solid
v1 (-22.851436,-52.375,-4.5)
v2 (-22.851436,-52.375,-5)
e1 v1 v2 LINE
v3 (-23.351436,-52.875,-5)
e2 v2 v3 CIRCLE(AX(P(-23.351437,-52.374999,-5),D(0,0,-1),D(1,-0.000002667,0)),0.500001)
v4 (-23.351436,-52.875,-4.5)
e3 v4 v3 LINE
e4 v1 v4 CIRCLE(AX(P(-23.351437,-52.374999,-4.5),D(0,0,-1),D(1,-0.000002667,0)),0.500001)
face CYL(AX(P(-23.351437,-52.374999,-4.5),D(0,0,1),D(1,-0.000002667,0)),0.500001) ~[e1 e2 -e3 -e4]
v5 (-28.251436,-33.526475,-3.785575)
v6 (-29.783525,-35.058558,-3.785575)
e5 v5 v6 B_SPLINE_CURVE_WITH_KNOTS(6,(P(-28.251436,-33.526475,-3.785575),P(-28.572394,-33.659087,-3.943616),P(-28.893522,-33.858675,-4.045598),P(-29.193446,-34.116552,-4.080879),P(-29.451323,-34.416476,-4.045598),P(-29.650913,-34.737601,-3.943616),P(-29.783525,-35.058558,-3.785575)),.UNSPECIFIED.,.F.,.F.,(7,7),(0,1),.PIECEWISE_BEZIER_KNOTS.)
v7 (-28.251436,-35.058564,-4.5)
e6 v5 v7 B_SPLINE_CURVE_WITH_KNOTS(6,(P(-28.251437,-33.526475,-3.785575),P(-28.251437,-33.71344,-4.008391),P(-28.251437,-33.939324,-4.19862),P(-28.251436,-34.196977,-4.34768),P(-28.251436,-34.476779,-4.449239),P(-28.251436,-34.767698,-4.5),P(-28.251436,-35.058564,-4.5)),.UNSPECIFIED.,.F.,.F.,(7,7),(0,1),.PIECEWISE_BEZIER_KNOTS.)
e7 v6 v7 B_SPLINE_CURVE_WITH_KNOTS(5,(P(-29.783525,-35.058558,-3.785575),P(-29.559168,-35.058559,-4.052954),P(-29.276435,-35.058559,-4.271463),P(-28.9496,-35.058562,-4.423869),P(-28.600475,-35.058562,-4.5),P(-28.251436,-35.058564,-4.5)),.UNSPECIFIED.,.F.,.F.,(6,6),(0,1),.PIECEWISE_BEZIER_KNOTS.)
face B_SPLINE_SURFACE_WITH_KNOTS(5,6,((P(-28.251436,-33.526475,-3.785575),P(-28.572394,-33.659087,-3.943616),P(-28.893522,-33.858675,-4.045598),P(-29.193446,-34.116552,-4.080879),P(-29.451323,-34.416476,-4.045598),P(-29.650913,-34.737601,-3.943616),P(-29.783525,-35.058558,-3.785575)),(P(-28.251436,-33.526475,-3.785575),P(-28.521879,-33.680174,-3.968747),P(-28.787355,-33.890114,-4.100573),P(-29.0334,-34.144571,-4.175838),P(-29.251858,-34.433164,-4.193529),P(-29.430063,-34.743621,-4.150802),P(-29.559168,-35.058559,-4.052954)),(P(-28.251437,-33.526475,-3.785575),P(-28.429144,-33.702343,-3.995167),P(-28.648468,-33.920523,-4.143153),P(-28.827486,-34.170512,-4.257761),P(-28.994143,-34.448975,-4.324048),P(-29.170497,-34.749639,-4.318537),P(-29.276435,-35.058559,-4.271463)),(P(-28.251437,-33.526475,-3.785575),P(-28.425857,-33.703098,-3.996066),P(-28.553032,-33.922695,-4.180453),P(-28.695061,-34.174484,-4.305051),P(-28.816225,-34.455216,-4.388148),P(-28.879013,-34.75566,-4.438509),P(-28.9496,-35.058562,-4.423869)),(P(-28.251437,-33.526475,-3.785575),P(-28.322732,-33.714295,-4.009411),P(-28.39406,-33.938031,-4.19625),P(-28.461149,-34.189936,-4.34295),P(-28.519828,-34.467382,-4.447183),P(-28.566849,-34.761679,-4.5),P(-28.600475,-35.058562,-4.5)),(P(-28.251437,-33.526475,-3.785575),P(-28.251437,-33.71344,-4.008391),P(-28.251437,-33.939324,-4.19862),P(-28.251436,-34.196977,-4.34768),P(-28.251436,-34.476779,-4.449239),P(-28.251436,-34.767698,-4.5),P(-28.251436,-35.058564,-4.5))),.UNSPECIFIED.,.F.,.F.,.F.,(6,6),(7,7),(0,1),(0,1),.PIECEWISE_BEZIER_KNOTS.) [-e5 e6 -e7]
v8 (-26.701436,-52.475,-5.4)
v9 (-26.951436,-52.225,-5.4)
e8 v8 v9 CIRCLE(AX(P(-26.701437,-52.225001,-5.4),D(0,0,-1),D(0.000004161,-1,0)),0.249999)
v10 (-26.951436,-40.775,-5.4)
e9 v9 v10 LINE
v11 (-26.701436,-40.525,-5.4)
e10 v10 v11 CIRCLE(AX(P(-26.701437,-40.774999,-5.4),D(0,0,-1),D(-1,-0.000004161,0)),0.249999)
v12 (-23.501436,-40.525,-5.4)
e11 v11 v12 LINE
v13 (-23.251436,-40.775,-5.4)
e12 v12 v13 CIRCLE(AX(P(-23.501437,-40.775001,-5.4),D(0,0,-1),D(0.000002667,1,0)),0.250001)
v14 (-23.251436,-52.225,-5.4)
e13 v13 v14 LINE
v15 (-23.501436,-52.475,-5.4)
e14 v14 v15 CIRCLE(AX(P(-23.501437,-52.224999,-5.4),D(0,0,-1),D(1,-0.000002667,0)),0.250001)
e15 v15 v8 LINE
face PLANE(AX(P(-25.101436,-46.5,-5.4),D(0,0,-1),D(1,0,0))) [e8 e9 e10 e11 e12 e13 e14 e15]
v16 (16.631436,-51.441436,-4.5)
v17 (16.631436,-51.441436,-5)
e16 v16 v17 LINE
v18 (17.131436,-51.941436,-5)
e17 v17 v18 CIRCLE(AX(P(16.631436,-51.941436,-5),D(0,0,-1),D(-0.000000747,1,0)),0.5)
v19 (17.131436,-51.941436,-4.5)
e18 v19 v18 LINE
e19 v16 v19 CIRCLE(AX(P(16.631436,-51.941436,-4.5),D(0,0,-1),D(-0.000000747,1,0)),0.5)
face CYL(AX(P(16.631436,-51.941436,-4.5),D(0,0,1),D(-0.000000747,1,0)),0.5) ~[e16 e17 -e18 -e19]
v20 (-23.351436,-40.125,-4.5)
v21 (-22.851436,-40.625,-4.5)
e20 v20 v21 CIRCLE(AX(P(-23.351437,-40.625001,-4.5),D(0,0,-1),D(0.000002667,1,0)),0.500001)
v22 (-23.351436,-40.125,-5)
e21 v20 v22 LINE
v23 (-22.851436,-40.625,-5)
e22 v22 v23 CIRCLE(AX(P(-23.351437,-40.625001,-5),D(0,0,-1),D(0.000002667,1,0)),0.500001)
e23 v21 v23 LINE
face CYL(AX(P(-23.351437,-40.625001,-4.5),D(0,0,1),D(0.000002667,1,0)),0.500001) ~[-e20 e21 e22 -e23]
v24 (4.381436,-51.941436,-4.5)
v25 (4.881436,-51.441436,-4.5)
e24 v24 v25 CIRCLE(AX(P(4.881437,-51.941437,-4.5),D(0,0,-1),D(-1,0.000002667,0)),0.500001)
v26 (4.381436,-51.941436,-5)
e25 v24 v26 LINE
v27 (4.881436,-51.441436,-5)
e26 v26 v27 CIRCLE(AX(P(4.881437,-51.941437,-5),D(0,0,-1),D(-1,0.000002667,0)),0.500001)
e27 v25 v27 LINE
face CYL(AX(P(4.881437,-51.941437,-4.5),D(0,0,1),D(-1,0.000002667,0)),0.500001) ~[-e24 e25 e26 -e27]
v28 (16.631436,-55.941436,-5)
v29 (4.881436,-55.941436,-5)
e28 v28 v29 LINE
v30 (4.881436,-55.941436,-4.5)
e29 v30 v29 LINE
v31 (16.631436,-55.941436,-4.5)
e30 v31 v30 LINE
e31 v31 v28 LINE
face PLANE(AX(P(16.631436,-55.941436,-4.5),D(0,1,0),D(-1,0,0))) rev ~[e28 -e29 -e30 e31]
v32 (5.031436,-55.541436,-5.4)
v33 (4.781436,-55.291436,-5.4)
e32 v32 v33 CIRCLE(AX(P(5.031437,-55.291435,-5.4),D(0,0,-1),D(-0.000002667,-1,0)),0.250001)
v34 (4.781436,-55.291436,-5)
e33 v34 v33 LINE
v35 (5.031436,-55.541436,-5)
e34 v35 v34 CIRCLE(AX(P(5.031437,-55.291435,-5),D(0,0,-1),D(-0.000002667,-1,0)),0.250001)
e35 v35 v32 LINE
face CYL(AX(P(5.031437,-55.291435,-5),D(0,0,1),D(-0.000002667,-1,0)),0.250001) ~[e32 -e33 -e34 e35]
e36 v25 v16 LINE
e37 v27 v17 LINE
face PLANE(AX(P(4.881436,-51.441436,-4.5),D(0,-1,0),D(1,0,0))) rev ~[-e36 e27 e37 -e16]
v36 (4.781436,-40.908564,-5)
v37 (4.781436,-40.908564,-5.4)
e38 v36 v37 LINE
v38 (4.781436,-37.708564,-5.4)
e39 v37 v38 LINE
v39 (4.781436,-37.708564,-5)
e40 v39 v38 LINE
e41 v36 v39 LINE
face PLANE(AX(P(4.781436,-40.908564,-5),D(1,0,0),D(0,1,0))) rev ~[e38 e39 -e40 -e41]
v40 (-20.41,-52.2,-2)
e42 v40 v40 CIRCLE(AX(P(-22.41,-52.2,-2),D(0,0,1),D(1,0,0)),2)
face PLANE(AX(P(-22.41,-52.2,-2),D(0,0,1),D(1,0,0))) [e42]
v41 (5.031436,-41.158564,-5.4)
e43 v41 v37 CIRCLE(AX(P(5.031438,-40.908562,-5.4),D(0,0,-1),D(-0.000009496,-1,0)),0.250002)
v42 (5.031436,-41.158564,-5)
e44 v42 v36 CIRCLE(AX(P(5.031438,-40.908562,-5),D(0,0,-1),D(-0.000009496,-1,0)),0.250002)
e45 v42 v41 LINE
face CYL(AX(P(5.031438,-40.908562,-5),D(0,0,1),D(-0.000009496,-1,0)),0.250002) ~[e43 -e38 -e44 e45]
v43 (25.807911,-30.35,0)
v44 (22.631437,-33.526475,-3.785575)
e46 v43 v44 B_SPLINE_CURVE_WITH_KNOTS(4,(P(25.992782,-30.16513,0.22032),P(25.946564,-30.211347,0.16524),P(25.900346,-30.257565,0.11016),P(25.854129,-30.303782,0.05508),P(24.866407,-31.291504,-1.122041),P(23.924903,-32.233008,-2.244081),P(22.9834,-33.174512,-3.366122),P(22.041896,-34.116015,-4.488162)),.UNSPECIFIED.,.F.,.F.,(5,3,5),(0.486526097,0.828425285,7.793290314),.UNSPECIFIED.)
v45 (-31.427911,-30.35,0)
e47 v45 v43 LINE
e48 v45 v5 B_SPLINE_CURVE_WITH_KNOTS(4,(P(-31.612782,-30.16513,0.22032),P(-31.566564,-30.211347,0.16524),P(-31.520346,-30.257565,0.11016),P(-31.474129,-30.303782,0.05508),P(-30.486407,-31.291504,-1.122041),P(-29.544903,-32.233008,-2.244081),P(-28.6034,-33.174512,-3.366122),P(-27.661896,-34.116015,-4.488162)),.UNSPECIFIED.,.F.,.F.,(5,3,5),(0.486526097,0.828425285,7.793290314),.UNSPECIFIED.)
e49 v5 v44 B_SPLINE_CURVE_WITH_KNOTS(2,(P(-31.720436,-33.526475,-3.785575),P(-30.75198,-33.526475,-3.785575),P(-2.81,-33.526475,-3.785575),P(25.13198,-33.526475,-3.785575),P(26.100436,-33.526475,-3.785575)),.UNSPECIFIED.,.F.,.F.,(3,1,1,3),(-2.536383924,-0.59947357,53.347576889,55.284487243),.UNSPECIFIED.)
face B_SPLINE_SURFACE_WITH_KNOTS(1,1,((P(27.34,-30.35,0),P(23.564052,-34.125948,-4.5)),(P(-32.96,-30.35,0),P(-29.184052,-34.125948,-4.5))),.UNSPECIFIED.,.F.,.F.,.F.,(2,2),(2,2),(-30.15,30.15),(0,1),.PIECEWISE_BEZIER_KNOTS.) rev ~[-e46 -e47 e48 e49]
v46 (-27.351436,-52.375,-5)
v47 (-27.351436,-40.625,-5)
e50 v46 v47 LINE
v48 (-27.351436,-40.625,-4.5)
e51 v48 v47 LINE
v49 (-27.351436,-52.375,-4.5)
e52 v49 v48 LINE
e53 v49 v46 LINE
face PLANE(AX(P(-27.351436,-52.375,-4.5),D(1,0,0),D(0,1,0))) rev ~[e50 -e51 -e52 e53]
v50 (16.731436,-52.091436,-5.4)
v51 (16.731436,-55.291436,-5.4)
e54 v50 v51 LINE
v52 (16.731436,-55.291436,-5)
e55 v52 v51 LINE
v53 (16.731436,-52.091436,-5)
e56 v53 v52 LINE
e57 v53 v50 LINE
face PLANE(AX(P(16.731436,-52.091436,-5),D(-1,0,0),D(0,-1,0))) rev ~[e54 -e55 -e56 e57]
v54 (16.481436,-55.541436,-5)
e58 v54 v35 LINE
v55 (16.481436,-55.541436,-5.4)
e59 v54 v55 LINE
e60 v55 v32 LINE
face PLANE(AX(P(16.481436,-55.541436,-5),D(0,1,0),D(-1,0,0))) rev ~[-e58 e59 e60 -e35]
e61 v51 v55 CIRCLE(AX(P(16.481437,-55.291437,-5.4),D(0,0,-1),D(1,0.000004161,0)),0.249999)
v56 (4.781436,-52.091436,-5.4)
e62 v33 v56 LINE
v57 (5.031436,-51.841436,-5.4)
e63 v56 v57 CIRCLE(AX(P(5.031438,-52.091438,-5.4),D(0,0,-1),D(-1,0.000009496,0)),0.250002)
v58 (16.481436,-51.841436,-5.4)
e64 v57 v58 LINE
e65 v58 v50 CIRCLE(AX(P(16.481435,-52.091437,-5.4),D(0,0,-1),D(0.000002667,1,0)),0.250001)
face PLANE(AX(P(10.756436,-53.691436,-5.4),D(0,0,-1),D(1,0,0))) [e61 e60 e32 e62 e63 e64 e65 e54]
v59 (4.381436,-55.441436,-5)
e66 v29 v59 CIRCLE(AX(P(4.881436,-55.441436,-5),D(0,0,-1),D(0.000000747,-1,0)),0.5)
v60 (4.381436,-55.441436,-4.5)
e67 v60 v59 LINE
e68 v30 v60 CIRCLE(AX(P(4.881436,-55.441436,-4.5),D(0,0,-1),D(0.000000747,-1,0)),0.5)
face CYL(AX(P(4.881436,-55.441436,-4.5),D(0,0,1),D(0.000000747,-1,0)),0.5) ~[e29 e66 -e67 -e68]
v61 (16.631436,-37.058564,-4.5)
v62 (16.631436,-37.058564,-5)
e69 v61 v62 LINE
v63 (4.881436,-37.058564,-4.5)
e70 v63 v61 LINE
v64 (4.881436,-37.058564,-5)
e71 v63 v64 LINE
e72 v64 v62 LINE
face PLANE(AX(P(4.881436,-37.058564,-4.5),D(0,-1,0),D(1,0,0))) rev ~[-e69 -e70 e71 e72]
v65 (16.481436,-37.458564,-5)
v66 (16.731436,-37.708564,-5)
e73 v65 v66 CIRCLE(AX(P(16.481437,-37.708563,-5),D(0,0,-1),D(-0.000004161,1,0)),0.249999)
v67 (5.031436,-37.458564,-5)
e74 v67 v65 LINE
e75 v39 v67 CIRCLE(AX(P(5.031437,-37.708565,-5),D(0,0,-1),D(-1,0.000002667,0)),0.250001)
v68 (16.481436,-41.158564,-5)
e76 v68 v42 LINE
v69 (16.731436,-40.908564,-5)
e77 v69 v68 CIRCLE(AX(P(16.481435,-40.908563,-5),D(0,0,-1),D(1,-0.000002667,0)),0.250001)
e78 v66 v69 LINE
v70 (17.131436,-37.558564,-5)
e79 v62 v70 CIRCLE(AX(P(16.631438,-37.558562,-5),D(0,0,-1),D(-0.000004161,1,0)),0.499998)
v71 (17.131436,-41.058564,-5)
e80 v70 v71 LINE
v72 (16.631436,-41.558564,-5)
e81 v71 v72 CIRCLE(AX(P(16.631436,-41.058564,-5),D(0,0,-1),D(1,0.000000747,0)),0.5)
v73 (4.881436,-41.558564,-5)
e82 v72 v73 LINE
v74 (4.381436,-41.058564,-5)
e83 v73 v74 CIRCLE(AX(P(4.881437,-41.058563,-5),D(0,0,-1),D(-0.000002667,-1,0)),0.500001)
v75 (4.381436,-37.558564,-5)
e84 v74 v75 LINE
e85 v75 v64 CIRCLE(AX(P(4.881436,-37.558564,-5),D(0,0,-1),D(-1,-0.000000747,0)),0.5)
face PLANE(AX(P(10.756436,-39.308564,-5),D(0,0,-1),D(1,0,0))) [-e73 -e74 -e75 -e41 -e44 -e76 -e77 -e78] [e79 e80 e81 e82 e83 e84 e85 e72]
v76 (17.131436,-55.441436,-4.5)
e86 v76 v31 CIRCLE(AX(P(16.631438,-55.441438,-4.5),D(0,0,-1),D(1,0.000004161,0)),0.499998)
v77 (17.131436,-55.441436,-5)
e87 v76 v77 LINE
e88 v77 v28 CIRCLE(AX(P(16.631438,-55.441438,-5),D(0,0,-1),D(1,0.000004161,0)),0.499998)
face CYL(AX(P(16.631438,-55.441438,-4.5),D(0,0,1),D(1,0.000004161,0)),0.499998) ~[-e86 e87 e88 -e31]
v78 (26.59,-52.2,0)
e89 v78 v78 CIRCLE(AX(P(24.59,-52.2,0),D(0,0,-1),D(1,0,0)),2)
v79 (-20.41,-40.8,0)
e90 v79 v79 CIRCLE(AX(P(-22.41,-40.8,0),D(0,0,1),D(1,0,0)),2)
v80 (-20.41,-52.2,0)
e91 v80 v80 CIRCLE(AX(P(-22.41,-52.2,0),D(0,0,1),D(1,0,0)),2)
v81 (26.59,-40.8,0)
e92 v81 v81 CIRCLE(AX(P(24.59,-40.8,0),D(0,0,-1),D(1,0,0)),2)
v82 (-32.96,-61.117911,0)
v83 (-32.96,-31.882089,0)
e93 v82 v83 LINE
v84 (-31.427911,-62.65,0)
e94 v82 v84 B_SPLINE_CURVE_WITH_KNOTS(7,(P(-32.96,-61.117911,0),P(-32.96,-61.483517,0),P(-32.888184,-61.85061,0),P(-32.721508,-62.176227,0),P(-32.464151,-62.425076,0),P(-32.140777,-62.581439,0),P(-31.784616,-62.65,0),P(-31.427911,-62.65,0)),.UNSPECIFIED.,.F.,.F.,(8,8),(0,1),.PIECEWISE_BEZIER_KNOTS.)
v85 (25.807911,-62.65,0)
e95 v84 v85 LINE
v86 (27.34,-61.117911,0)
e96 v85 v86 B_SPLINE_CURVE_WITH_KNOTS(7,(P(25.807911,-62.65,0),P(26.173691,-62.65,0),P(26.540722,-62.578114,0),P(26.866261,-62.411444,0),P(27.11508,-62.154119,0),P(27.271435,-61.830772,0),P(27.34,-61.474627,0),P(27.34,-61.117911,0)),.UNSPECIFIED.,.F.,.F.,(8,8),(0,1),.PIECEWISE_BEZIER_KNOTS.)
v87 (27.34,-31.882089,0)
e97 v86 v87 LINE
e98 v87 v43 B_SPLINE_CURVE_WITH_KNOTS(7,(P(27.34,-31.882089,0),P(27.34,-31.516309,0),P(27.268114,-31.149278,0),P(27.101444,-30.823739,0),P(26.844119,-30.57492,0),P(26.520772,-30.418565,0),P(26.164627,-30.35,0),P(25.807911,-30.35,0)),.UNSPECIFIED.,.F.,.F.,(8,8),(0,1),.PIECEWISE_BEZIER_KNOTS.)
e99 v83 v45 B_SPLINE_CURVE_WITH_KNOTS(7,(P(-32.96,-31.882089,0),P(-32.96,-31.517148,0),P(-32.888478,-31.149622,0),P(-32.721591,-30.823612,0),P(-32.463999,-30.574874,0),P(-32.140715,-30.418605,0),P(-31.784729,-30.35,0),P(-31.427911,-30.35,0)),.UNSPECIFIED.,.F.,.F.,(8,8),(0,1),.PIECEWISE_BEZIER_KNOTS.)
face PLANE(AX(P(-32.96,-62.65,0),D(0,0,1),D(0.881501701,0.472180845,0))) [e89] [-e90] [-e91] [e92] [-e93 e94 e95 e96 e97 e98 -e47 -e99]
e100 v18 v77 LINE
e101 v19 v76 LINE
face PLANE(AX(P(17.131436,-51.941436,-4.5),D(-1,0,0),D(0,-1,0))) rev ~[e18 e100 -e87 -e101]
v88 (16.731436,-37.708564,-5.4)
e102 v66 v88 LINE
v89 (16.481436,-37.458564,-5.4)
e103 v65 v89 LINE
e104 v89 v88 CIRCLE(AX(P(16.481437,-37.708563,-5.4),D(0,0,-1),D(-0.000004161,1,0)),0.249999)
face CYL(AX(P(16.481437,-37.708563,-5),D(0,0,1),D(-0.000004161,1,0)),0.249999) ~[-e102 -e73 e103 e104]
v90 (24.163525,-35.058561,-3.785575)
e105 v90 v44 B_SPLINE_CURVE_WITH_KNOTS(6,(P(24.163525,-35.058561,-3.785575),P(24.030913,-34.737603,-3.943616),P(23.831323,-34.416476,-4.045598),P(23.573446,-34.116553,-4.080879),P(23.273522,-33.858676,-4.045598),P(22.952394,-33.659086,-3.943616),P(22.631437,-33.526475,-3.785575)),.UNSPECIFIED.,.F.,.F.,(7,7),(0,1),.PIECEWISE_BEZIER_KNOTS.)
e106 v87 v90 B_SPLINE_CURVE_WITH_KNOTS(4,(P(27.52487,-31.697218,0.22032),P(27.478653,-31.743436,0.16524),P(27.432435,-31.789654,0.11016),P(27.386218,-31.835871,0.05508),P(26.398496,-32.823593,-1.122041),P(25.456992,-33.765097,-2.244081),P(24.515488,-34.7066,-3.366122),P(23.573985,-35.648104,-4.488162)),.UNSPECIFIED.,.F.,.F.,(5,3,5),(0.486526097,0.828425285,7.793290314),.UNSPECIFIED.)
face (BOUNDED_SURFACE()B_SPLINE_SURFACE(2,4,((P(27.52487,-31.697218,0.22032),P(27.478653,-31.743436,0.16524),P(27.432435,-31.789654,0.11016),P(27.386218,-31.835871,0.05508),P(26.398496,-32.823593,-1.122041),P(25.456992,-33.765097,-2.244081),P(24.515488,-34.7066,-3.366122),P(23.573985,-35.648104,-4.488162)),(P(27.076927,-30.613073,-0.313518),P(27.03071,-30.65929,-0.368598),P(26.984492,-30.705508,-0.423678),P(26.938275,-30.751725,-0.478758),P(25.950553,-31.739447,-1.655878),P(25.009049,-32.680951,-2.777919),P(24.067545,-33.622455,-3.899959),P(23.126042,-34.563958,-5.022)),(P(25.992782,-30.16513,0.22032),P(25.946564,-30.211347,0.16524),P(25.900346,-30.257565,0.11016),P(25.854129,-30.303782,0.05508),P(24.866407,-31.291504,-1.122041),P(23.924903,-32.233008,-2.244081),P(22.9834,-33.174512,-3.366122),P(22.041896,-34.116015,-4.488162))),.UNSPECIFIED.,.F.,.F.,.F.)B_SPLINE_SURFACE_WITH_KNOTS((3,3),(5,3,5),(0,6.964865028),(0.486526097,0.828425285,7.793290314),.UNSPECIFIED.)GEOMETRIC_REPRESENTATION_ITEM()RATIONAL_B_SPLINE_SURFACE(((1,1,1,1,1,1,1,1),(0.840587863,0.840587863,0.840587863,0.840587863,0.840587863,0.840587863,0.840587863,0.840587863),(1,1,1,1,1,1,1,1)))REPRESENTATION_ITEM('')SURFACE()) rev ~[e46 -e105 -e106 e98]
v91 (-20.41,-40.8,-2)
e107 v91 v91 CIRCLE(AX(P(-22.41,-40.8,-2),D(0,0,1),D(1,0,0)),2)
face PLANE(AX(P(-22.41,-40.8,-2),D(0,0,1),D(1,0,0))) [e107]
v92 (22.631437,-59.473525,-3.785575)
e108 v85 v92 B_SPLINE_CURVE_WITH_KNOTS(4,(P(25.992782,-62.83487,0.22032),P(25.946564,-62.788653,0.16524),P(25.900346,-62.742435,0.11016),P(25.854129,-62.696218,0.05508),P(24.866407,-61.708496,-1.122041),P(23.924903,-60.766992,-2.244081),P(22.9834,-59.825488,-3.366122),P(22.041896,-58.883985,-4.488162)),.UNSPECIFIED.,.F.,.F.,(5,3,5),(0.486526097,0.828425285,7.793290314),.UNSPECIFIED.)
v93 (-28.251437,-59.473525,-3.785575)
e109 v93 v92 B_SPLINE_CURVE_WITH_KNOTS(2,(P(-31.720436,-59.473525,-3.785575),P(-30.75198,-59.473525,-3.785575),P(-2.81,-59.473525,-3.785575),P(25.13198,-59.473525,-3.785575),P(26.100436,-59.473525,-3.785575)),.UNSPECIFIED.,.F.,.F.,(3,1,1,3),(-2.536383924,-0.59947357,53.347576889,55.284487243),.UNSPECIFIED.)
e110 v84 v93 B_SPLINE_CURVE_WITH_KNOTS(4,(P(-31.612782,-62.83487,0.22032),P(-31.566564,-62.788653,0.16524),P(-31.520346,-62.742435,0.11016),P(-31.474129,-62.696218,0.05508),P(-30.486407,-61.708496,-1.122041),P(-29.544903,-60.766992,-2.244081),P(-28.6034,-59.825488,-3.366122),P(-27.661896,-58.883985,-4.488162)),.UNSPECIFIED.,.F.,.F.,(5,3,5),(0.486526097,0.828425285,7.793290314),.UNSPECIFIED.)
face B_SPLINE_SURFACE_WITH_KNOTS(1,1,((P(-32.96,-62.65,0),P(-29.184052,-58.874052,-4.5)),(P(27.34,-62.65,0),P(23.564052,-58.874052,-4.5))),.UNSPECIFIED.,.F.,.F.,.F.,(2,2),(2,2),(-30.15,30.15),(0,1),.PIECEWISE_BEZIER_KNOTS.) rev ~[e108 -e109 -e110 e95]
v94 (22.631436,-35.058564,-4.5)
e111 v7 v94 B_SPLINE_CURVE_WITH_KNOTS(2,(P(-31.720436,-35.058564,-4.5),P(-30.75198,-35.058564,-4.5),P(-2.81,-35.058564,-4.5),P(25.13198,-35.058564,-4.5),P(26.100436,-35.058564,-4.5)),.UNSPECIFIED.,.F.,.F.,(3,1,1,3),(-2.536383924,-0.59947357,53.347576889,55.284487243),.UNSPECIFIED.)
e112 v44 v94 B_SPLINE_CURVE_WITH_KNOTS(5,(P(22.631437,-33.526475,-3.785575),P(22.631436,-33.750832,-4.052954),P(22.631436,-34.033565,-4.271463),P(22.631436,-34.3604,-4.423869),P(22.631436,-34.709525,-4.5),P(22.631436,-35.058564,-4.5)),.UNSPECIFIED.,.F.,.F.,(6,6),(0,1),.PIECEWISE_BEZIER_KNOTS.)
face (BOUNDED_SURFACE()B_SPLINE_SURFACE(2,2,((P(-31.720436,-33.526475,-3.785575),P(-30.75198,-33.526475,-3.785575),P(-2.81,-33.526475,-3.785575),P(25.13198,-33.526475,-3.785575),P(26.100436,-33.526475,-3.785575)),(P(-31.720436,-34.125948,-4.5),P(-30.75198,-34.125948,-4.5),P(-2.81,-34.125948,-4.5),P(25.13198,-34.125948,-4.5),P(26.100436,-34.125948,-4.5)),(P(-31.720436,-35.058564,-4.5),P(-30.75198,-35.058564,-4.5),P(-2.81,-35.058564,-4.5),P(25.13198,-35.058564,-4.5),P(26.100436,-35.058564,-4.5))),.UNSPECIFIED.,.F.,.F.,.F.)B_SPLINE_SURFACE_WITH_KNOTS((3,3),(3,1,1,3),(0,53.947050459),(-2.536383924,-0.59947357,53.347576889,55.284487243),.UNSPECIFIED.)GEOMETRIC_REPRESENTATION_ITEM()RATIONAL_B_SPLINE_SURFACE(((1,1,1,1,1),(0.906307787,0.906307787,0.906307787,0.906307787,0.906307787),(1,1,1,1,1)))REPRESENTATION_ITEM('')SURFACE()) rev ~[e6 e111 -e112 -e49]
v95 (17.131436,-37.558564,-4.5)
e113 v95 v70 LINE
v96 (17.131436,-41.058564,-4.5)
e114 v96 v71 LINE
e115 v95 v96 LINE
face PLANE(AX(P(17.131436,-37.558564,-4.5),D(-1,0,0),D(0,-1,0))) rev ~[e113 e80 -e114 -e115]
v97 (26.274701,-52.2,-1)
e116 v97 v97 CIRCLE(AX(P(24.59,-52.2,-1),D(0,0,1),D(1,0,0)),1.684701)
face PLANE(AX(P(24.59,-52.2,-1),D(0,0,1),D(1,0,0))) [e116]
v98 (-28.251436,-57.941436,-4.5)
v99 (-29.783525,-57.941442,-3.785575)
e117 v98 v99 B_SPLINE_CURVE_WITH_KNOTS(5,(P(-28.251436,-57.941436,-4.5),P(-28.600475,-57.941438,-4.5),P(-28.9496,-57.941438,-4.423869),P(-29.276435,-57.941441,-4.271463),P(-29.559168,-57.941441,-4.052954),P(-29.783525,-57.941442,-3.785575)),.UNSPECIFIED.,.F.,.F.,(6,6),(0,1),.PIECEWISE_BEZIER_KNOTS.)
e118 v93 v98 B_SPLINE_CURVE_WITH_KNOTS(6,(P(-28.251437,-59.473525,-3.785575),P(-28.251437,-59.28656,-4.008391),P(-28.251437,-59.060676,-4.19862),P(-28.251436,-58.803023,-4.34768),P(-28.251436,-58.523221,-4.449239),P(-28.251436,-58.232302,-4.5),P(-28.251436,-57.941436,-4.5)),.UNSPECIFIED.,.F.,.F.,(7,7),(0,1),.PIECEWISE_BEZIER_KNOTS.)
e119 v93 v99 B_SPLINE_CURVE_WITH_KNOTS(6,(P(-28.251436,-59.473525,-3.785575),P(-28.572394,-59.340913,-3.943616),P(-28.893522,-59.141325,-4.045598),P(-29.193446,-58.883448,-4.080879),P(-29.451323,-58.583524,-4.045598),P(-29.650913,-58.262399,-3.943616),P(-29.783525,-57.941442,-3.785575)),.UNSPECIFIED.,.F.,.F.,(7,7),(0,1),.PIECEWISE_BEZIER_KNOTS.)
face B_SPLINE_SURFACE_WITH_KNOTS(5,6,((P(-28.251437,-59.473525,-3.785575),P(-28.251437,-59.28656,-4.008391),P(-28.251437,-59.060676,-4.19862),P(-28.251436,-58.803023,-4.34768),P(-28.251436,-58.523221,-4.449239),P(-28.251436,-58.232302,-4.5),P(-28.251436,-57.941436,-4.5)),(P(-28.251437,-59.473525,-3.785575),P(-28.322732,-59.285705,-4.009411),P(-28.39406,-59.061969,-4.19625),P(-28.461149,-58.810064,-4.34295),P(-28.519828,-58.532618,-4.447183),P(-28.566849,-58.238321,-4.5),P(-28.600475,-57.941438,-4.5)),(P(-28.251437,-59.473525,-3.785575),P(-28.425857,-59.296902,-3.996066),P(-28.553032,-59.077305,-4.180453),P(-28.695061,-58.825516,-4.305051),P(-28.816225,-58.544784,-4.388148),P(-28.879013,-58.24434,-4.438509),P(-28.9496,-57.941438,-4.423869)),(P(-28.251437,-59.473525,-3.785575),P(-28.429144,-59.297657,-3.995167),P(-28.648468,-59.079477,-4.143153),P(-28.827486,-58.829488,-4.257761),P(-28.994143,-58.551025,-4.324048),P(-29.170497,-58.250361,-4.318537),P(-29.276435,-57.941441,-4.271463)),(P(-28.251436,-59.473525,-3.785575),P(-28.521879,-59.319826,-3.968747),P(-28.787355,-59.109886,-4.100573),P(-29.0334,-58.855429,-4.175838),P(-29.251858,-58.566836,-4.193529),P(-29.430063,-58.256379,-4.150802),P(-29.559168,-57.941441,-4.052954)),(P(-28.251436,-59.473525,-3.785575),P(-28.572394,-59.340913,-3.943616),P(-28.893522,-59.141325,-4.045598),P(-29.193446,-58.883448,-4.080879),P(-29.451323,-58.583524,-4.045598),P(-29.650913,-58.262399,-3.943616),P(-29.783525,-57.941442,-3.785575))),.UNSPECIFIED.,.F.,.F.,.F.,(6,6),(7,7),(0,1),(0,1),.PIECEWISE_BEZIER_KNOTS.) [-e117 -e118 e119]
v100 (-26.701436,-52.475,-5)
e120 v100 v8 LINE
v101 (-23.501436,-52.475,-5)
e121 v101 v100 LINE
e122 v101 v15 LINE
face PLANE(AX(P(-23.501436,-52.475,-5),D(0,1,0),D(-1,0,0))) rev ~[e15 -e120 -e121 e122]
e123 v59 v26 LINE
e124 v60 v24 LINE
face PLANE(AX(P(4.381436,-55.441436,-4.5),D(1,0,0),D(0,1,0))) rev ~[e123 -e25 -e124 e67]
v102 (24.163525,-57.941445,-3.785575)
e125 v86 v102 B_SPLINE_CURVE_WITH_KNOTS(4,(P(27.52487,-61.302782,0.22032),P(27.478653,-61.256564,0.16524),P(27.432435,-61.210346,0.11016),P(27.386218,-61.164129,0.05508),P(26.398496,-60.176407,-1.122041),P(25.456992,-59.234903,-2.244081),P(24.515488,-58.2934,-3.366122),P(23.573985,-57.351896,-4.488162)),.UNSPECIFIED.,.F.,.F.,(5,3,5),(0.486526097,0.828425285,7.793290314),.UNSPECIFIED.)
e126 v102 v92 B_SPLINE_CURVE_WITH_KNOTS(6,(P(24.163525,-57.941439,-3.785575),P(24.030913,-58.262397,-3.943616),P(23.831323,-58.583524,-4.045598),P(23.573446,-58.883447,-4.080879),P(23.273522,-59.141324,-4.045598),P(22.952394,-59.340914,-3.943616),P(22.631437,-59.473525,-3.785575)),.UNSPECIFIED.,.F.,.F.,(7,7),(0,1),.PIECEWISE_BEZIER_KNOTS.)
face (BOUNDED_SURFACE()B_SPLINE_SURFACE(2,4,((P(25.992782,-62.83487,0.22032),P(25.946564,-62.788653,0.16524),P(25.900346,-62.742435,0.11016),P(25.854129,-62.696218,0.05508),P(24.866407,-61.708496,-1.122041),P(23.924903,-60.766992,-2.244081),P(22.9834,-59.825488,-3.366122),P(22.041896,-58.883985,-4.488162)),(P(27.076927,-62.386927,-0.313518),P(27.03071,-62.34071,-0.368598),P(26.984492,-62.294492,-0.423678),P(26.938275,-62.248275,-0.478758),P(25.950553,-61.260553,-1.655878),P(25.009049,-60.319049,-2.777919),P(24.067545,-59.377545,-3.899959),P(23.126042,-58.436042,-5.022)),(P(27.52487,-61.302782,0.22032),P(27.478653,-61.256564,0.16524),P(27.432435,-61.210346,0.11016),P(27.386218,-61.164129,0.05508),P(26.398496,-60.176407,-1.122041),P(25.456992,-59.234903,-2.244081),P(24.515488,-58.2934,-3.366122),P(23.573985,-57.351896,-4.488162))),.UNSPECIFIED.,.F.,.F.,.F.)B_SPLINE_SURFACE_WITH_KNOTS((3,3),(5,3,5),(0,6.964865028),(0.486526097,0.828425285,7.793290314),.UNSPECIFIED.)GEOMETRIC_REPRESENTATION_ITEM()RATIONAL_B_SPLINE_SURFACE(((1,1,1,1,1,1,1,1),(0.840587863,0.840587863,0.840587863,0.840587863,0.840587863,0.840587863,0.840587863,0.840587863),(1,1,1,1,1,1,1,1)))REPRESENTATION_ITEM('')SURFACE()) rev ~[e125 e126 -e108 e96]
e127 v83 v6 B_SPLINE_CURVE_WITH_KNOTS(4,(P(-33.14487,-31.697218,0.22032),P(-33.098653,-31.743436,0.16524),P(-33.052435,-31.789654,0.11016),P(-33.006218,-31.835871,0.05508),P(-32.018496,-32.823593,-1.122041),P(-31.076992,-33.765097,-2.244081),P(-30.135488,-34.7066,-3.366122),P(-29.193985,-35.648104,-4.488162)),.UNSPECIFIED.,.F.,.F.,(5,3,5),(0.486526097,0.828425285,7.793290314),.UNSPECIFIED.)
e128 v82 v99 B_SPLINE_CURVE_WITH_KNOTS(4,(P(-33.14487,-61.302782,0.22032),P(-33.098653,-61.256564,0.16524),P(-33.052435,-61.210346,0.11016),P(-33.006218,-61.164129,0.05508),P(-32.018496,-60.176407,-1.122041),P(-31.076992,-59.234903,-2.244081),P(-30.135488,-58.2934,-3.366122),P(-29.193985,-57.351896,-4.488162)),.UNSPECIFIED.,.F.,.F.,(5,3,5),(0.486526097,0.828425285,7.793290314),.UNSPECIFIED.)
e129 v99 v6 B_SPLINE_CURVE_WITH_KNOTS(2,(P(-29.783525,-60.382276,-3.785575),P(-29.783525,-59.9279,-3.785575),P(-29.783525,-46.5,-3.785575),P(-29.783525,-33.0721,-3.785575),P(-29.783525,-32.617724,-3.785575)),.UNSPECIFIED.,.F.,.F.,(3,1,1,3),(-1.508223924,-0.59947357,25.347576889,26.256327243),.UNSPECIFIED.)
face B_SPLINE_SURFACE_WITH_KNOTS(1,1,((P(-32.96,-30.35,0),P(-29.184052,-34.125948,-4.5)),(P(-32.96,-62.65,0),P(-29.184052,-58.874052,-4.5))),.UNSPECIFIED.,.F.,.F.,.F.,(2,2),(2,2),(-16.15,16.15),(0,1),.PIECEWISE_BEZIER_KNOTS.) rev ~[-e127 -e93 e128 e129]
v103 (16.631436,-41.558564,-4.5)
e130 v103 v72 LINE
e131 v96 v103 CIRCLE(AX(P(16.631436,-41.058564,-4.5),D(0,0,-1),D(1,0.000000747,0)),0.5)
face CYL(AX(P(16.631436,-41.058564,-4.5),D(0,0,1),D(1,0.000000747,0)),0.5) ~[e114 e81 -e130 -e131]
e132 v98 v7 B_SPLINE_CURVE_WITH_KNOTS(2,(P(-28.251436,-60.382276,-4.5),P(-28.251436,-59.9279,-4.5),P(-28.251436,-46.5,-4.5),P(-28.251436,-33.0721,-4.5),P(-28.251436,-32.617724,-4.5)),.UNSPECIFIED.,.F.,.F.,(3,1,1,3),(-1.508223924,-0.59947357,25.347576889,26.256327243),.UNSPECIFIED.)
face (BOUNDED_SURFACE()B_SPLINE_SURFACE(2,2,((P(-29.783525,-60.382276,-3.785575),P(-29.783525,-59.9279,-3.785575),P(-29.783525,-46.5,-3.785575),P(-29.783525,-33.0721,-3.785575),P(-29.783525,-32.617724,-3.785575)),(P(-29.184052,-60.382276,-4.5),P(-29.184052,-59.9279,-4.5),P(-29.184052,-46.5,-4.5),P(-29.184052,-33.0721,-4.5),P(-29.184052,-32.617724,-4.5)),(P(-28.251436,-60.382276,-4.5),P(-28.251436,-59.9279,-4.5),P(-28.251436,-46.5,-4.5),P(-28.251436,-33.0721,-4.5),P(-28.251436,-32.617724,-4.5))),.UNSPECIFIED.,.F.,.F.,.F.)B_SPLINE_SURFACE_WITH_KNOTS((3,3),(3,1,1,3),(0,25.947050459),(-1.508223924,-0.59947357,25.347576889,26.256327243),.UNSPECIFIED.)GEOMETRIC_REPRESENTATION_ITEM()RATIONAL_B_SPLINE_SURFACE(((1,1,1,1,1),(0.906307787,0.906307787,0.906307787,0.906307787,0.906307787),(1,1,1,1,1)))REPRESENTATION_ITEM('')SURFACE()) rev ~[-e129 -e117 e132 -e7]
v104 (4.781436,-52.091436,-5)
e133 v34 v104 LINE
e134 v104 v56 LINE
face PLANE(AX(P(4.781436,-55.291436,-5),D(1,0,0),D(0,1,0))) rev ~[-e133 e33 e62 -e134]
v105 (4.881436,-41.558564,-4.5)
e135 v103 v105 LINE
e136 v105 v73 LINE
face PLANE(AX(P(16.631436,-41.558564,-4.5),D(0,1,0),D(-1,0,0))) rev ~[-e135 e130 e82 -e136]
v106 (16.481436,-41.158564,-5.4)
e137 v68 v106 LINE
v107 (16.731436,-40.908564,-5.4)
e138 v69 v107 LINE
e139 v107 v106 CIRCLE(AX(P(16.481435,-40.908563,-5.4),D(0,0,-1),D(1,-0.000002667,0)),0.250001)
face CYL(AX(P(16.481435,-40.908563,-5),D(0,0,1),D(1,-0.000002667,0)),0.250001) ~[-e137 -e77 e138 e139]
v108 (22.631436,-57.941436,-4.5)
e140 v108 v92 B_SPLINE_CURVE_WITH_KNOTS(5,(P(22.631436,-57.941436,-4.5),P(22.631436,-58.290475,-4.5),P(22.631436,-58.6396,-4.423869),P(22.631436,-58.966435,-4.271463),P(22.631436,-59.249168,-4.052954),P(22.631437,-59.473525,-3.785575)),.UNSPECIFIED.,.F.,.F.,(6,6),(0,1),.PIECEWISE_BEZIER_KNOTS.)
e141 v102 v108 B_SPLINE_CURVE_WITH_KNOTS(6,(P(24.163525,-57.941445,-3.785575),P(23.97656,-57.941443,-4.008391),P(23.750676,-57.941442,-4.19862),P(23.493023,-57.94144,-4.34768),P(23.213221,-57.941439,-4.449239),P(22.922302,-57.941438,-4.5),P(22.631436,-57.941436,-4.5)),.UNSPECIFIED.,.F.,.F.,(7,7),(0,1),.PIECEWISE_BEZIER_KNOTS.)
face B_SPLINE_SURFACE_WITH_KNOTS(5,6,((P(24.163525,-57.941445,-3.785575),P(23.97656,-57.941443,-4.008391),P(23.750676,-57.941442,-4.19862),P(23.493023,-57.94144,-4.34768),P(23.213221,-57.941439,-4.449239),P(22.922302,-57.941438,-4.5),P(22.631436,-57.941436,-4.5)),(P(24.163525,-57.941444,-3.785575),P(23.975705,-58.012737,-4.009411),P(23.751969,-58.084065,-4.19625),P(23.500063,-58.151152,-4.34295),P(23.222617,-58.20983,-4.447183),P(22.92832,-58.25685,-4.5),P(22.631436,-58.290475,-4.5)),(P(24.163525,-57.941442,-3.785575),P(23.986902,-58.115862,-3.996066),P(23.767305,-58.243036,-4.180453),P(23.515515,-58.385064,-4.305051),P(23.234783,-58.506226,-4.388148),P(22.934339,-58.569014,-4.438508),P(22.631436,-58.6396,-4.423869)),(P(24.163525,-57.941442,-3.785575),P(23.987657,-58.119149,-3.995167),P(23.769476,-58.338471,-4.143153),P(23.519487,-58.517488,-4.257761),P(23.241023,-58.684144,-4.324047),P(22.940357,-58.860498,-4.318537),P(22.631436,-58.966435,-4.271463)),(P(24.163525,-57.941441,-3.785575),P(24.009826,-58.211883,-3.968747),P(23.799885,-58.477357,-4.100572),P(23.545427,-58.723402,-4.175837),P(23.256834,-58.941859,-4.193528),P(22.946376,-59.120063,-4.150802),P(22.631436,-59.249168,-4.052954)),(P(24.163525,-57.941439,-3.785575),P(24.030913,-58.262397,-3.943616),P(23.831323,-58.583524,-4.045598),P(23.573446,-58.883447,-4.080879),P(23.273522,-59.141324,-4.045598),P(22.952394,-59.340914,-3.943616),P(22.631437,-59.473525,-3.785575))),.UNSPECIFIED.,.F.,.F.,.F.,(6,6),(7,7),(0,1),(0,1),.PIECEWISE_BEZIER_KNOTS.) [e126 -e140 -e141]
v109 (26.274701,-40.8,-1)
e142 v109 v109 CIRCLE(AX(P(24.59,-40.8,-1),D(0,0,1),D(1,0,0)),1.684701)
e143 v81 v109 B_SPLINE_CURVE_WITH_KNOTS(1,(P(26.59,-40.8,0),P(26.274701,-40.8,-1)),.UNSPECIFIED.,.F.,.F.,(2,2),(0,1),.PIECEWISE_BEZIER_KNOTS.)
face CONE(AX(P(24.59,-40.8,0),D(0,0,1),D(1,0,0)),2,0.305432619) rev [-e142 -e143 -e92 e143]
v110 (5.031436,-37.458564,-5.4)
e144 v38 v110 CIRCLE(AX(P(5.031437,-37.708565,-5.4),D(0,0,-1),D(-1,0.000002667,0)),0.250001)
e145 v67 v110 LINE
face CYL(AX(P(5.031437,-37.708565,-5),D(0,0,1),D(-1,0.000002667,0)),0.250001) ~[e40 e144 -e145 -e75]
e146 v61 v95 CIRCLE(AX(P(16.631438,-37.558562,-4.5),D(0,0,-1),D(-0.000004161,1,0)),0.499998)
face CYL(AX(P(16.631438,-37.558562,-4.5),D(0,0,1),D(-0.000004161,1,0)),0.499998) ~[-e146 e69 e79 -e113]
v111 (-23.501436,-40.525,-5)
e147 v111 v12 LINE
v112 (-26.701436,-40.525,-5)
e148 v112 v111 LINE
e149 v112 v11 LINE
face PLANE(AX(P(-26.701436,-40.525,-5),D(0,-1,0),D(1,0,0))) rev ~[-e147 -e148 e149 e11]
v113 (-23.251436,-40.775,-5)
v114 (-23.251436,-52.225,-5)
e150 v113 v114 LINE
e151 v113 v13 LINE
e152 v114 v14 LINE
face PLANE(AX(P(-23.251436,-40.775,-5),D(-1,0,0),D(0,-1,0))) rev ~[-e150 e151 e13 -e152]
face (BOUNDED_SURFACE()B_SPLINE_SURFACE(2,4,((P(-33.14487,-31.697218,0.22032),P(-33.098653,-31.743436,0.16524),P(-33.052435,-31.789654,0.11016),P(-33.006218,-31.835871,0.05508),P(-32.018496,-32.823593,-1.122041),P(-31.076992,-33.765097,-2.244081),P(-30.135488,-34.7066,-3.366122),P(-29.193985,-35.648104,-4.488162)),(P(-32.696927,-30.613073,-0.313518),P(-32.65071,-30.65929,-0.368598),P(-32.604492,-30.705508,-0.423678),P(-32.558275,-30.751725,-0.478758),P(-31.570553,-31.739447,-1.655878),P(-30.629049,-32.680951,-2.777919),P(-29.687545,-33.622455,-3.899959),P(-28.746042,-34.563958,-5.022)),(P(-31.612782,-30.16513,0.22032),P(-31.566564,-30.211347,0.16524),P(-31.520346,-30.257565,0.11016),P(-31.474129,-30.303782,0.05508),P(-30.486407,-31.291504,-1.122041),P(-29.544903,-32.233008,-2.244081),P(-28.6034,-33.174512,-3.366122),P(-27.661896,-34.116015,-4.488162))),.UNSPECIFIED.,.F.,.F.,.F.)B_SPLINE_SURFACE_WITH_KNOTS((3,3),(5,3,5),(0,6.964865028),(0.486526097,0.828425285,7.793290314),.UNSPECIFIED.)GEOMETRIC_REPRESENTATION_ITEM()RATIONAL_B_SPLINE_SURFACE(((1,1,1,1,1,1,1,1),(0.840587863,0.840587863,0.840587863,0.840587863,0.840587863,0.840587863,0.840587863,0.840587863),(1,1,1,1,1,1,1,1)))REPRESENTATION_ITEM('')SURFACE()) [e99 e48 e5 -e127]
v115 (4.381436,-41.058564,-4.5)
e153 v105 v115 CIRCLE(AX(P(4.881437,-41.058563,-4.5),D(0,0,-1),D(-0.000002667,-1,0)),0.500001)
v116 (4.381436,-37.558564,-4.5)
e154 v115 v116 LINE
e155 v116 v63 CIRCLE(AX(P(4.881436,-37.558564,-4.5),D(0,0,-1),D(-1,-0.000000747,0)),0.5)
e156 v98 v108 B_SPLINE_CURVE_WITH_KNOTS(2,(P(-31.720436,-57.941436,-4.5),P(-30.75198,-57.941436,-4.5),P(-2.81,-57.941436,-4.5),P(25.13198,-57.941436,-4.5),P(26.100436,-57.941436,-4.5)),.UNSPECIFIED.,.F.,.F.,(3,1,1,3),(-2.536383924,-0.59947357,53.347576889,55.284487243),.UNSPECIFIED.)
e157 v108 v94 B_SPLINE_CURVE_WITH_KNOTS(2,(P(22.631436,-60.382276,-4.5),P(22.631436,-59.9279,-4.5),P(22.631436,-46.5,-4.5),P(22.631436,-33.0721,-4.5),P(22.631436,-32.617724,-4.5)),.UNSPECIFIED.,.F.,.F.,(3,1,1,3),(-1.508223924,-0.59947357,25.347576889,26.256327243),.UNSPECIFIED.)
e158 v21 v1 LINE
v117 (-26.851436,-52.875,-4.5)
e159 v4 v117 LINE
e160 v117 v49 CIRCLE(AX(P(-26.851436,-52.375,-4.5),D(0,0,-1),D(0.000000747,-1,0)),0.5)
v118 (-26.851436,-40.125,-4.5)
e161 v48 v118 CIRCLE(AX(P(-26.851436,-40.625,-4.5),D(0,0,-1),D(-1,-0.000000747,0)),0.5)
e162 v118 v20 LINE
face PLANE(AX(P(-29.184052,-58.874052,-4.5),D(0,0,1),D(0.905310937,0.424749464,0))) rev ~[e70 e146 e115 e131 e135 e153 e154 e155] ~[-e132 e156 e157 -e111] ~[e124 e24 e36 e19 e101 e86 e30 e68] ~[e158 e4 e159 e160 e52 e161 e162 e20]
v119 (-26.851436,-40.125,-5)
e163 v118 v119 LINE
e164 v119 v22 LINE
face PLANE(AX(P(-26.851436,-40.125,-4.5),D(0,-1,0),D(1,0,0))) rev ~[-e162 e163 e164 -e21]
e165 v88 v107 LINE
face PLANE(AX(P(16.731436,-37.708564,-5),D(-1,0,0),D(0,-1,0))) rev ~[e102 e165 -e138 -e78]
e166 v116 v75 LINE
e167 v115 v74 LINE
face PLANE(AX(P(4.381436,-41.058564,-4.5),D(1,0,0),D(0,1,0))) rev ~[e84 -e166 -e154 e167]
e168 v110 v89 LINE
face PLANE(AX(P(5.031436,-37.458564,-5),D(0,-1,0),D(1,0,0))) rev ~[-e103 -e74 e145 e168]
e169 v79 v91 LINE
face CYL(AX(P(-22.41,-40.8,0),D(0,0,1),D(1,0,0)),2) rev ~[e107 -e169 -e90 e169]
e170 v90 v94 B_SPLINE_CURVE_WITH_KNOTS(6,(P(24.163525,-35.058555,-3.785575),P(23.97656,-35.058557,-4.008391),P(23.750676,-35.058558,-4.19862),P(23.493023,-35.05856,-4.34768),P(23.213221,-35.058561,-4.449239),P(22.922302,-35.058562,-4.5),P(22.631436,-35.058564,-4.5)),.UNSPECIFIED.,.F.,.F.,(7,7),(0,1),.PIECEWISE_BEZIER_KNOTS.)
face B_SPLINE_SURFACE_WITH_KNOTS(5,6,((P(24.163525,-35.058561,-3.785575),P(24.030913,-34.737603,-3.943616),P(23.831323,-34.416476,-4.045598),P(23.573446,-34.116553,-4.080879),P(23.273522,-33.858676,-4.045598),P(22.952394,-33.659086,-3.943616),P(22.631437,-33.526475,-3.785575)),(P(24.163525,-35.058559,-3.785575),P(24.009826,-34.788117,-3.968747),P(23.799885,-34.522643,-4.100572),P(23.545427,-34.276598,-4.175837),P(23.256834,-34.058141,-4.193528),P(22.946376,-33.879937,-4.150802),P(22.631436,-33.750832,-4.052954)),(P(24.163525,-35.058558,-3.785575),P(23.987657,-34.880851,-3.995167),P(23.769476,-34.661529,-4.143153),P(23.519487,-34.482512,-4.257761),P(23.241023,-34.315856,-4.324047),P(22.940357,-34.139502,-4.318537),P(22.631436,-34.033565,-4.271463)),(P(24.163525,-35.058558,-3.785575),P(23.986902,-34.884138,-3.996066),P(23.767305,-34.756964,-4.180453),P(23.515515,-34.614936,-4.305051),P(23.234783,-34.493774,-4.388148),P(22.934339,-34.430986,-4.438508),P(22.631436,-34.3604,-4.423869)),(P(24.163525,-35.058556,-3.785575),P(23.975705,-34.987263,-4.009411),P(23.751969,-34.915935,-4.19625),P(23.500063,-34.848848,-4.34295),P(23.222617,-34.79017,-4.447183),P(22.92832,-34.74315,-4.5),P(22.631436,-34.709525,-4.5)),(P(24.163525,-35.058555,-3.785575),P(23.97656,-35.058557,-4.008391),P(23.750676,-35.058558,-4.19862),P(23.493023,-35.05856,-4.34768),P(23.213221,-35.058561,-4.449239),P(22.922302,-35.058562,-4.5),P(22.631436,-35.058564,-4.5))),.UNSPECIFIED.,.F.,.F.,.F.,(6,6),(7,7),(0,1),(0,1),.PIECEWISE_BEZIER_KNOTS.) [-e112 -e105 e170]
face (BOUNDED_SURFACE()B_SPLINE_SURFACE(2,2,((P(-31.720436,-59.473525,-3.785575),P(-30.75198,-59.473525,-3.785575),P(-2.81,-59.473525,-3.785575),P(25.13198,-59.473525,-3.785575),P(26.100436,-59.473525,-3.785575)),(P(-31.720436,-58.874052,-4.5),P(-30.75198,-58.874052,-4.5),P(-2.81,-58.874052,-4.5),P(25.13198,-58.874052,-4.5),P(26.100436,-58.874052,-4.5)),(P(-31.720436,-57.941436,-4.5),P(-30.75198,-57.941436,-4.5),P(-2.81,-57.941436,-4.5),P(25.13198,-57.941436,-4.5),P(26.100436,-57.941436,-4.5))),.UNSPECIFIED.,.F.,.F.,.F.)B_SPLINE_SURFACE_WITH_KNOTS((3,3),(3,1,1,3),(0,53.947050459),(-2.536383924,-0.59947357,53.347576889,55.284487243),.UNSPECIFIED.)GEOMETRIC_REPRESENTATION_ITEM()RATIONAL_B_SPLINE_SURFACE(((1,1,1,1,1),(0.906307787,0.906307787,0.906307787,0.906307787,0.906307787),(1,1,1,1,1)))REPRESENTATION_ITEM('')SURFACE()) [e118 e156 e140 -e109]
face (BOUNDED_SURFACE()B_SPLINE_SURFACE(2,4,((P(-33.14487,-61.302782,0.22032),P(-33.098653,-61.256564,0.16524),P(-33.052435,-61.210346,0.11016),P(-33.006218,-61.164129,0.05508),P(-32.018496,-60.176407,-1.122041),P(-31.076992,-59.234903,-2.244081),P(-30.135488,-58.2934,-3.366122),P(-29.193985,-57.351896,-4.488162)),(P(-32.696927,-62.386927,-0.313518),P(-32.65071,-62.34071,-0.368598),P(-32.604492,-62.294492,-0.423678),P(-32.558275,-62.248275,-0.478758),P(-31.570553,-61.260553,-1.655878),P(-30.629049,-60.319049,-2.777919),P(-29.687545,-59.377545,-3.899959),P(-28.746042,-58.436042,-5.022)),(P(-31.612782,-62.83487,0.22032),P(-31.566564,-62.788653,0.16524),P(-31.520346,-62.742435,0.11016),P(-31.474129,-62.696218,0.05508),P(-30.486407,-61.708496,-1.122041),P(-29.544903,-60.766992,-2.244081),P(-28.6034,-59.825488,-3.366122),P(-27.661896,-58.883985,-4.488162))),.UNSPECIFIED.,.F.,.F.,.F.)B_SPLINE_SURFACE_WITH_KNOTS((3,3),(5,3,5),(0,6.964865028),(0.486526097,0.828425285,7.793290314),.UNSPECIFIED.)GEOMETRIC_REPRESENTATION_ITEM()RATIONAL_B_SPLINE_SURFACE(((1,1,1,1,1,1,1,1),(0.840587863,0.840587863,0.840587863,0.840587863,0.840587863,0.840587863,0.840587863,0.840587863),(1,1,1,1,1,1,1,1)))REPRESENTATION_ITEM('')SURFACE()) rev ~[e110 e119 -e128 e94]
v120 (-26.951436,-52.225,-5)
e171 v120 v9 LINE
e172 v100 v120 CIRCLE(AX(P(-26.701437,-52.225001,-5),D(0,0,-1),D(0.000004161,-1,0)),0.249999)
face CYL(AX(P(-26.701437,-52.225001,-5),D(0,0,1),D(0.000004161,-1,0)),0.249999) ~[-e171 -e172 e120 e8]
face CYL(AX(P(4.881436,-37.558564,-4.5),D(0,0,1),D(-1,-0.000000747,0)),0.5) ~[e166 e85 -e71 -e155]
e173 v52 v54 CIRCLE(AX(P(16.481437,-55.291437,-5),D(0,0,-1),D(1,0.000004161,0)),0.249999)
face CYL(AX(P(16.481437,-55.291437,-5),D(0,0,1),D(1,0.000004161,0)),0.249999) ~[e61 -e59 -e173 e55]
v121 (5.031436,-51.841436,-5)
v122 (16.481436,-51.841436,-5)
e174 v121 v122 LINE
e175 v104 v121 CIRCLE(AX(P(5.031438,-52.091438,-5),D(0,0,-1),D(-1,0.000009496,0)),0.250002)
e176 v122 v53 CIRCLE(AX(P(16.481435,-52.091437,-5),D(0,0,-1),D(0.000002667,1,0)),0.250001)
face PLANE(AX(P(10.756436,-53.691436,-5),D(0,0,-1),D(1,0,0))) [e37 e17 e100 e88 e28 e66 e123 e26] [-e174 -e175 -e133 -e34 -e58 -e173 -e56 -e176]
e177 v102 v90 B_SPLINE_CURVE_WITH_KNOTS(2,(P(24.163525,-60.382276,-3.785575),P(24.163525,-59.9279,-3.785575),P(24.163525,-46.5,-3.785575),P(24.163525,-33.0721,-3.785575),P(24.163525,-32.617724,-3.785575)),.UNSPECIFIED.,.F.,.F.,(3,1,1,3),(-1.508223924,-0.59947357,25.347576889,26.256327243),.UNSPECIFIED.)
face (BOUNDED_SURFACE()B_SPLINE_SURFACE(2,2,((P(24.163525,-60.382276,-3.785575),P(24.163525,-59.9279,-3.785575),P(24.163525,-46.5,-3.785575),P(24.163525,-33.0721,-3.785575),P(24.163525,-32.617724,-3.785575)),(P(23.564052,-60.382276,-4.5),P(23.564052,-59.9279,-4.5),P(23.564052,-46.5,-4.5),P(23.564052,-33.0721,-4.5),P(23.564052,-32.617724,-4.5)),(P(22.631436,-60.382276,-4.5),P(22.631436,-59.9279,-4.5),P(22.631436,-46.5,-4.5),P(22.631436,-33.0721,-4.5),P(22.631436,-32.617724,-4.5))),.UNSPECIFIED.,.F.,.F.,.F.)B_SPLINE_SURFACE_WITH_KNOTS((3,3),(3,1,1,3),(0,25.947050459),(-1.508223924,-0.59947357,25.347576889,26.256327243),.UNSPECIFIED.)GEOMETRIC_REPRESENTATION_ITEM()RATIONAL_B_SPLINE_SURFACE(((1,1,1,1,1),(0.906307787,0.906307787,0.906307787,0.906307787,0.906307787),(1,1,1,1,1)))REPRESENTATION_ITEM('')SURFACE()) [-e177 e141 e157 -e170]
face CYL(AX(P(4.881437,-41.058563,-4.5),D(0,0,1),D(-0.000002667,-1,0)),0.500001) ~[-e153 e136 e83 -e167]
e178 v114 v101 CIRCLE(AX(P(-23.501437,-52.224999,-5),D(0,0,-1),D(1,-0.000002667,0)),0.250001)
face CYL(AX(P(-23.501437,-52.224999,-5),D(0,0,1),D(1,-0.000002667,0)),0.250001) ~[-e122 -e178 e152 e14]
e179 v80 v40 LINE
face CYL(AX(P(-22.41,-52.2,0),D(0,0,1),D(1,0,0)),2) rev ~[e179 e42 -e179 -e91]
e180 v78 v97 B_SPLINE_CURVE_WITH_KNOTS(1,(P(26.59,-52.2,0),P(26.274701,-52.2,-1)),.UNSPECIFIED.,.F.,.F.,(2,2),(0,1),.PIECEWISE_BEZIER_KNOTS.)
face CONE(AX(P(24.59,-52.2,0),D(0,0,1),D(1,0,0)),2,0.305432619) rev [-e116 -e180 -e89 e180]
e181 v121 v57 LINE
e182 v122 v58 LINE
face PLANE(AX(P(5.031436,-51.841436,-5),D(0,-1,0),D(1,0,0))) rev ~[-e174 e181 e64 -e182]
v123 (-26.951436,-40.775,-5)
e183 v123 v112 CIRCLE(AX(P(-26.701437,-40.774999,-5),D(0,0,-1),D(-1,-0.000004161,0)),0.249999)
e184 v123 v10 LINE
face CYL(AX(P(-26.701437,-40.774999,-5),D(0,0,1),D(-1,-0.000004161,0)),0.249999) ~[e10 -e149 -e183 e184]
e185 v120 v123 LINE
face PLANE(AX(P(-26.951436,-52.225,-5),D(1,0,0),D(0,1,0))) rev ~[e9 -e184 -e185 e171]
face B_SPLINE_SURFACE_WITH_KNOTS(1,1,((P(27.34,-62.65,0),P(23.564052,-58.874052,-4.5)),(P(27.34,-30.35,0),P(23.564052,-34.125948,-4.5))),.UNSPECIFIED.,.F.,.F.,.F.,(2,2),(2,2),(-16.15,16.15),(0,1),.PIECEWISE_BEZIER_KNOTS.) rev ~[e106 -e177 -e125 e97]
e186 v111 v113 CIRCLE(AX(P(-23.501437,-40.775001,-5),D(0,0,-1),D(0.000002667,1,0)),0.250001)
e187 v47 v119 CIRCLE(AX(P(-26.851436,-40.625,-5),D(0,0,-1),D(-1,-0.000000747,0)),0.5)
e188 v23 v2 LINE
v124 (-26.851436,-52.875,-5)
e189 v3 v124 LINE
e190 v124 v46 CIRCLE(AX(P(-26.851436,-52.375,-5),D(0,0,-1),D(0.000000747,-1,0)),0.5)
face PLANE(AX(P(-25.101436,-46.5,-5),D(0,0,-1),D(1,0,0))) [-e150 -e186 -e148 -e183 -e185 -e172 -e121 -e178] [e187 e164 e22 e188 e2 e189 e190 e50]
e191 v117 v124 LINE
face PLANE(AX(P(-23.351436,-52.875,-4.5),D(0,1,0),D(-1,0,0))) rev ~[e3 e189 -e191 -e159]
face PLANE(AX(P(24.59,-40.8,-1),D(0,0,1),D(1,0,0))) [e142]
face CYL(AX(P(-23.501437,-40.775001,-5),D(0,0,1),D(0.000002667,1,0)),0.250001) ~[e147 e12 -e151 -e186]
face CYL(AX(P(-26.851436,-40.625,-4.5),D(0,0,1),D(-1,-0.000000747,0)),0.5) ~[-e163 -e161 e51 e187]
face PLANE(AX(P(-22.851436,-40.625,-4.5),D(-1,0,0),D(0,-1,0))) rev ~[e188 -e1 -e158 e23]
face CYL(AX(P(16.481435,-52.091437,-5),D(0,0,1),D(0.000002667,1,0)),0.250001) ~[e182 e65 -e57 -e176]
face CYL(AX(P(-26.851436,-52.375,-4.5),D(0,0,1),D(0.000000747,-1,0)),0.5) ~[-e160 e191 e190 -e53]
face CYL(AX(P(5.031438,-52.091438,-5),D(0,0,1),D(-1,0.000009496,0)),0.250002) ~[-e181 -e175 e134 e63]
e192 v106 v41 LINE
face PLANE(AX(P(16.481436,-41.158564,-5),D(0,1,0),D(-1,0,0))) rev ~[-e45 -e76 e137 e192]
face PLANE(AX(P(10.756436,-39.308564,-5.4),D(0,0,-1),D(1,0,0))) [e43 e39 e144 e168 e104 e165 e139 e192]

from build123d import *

# Parameters (mm, degrees)
SKETCH011_W     = 60.3
SKETCH011_H     = 32.3
PAD003_DEPTH    = 4.5
PAD003_TAPER    = 40
FILLET001_R     = 2
PAD004_DEPTH    = 0.5
PAD005_DEPTH    = 0.4
SKETCH014_R     = 2
POCKET008_DEPTH = 2
SKETCH015_R     = 2
POCKET009_DEPTH = 1
POCKET009_TAPER = 17.5


with BuildPart() as part:
    # Sketch011 → Pad003 (new body)
    with BuildSketch(Plane.XY):
        with Locations((-2.81, -16.15)):
            Rectangle(SKETCH011_W, SKETCH011_H)
    extrude(amount=-PAD003_DEPTH, taper=PAD003_TAPER)

    # Fillet001
    fillet001_edges = [part.edges().sort_by_distance(p)[0] for p in [
        (-29.184052, -16.15, -4.5),
        (-31.072026, -1.887974, -2.25),
        (-2.81, -3.775948, -4.5),
        (-2.81, -28.524052, -4.5),
        (25.452026, -1.887974, -2.25),
        (23.564052, -16.15, -4.5),
        (25.452026, -30.412026, -2.25),
        (-31.072026, -30.412026, -2.25),
    ]]
    fillet(fillet001_edges, radius=FILLET001_R)

    # Sketch012 (on Face13 of Fillet001) → Pad004 (join)
    with BuildSketch(Plane(origin=(0, 0, -4.5), x_dir=(1, 0, 0), z_dir=(0, 0, -1))):
        with BuildLine():
            Line((4.381436, 25.091436), (4.381436, 21.591436))
            ThreePointArc((4.381436, 21.591436), (4.527883, 21.237883), (4.881436, 21.091436))
            Line((4.881436, 21.091436), (16.631436, 21.091436))
            ThreePointArc((16.631436, 21.091436), (16.98499, 21.237883), (17.131436, 21.591436))
            Line((17.131436, 21.591436), (17.131436, 25.091436))
            ThreePointArc((17.131436, 25.091436), (16.98499, 25.44499), (16.631436, 25.591436))
            Line((16.631436, 25.591436), (4.881436, 25.591436))
            ThreePointArc((4.881436, 25.591436), (4.527883, 25.44499), (4.381436, 25.091436))
        make_face()
        with BuildLine():
            Line((4.381436, 10.708564), (4.381436, 7.208564))
            ThreePointArc((4.381436, 7.208564), (4.527883, 6.85501), (4.881436, 6.708564))
            Line((4.881436, 6.708564), (16.631436, 6.708564))
            ThreePointArc((16.631436, 6.708564), (16.98499, 6.85501), (17.131436, 7.208564))
            Line((17.131436, 7.208564), (17.131436, 10.708564))
            ThreePointArc((17.131436, 10.708564), (16.98499, 11.062117), (16.631436, 11.208564))
            Line((16.631436, 11.208564), (4.881436, 11.208564))
            ThreePointArc((4.881436, 11.208564), (4.527883, 11.062117), (4.381436, 10.708564))
        make_face()
        with BuildLine():
            Line((-27.351436, 22.025), (-27.351436, 10.275))
            ThreePointArc((-27.351436, 10.275), (-27.20499, 9.921447), (-26.851436, 9.775))
            Line((-26.851436, 9.775), (-23.351436, 9.775))
            ThreePointArc((-23.351436, 9.775), (-22.997883, 9.921447), (-22.851436, 10.275))
            Line((-22.851436, 10.275), (-22.851436, 22.025))
            ThreePointArc((-22.851436, 22.025), (-22.997883, 22.378553), (-23.351436, 22.525))
            Line((-23.351436, 22.525), (-26.851436, 22.525))
            ThreePointArc((-26.851436, 22.525), (-27.20499, 22.378553), (-27.351436, 22.025))
        make_face()
    extrude(amount=PAD004_DEPTH)

    # Sketch013 (on Face45 of Pad004) → Pad005 (join)
    with BuildSketch(Plane(origin=(0, 0, -5), x_dir=(1, 0, 0), z_dir=(0, 0, -1))):
        with BuildLine():
            Line((4.781436, 24.941436), (4.781436, 21.741436))
            ThreePointArc((4.781436, 21.741436), (4.85466, 21.56466), (5.031436, 21.491436))
            Line((5.031436, 21.491436), (16.481436, 21.491436))
            ThreePointArc((16.481436, 21.491436), (16.658213, 21.56466), (16.731436, 21.741436))
            Line((16.731436, 21.741436), (16.731436, 24.941436))
            ThreePointArc((16.731436, 24.941436), (16.658213, 25.118213), (16.481436, 25.191436))
            Line((16.481436, 25.191436), (5.031436, 25.191436))
            ThreePointArc((5.031436, 25.191436), (4.85466, 25.118213), (4.781436, 24.941436))
        make_face()
        with BuildLine():
            Line((4.781436, 10.558564), (4.781436, 7.358564))
            ThreePointArc((4.781436, 7.358564), (4.85466, 7.181787), (5.031436, 7.108564))
            Line((5.031436, 7.108564), (16.481436, 7.108564))
            ThreePointArc((16.481436, 7.108564), (16.658213, 7.181787), (16.731436, 7.358564))
            Line((16.731436, 7.358564), (16.731436, 10.558564))
            ThreePointArc((16.731436, 10.558564), (16.658213, 10.73534), (16.481436, 10.808564))
            Line((16.481436, 10.808564), (5.031436, 10.808564))
            ThreePointArc((5.031436, 10.808564), (4.85466, 10.73534), (4.781436, 10.558564))
        make_face()
        with BuildLine():
            Line((-26.951436, 21.875), (-26.951436, 10.425))
            ThreePointArc((-26.951436, 10.425), (-26.878213, 10.248223), (-26.701436, 10.175))
            Line((-26.701436, 10.175), (-23.501436, 10.175))
            ThreePointArc((-23.501436, 10.175), (-23.32466, 10.248223), (-23.251436, 10.425))
            Line((-23.251436, 10.425), (-23.251436, 21.875))
            ThreePointArc((-23.251436, 21.875), (-23.32466, 22.051777), (-23.501436, 22.125))
            Line((-23.501436, 22.125), (-26.701436, 22.125))
            ThreePointArc((-26.701436, 22.125), (-26.878213, 22.051777), (-26.951436, 21.875))
        make_face()
    extrude(amount=PAD005_DEPTH)

    # Sketch014 → Pocket008 (cut)
    with BuildSketch(Plane.XY):
        with Locations((-22.41, -10.45)):
            Circle(SKETCH014_R)
        with Locations((-22.41, -21.85)):
            Circle(SKETCH014_R)
    extrude(amount=-POCKET008_DEPTH, mode=Mode.SUBTRACT)

    # Sketch015 → Pocket009 (cut)
    with BuildSketch(Plane.XY):
        with Locations((24.59, -10.45)):
            Circle(SKETCH015_R)
        with Locations((24.59, -21.85)):
            Circle(SKETCH015_R)
    extrude(amount=-POCKET009_DEPTH, taper=POCKET009_TAPER, mode=Mode.SUBTRACT)


with BuildPart() as part_1:
    # Body002 placement: moved
    add(part.part.moved(Location((0, -30.35, 0))))


solid = part_1.part
